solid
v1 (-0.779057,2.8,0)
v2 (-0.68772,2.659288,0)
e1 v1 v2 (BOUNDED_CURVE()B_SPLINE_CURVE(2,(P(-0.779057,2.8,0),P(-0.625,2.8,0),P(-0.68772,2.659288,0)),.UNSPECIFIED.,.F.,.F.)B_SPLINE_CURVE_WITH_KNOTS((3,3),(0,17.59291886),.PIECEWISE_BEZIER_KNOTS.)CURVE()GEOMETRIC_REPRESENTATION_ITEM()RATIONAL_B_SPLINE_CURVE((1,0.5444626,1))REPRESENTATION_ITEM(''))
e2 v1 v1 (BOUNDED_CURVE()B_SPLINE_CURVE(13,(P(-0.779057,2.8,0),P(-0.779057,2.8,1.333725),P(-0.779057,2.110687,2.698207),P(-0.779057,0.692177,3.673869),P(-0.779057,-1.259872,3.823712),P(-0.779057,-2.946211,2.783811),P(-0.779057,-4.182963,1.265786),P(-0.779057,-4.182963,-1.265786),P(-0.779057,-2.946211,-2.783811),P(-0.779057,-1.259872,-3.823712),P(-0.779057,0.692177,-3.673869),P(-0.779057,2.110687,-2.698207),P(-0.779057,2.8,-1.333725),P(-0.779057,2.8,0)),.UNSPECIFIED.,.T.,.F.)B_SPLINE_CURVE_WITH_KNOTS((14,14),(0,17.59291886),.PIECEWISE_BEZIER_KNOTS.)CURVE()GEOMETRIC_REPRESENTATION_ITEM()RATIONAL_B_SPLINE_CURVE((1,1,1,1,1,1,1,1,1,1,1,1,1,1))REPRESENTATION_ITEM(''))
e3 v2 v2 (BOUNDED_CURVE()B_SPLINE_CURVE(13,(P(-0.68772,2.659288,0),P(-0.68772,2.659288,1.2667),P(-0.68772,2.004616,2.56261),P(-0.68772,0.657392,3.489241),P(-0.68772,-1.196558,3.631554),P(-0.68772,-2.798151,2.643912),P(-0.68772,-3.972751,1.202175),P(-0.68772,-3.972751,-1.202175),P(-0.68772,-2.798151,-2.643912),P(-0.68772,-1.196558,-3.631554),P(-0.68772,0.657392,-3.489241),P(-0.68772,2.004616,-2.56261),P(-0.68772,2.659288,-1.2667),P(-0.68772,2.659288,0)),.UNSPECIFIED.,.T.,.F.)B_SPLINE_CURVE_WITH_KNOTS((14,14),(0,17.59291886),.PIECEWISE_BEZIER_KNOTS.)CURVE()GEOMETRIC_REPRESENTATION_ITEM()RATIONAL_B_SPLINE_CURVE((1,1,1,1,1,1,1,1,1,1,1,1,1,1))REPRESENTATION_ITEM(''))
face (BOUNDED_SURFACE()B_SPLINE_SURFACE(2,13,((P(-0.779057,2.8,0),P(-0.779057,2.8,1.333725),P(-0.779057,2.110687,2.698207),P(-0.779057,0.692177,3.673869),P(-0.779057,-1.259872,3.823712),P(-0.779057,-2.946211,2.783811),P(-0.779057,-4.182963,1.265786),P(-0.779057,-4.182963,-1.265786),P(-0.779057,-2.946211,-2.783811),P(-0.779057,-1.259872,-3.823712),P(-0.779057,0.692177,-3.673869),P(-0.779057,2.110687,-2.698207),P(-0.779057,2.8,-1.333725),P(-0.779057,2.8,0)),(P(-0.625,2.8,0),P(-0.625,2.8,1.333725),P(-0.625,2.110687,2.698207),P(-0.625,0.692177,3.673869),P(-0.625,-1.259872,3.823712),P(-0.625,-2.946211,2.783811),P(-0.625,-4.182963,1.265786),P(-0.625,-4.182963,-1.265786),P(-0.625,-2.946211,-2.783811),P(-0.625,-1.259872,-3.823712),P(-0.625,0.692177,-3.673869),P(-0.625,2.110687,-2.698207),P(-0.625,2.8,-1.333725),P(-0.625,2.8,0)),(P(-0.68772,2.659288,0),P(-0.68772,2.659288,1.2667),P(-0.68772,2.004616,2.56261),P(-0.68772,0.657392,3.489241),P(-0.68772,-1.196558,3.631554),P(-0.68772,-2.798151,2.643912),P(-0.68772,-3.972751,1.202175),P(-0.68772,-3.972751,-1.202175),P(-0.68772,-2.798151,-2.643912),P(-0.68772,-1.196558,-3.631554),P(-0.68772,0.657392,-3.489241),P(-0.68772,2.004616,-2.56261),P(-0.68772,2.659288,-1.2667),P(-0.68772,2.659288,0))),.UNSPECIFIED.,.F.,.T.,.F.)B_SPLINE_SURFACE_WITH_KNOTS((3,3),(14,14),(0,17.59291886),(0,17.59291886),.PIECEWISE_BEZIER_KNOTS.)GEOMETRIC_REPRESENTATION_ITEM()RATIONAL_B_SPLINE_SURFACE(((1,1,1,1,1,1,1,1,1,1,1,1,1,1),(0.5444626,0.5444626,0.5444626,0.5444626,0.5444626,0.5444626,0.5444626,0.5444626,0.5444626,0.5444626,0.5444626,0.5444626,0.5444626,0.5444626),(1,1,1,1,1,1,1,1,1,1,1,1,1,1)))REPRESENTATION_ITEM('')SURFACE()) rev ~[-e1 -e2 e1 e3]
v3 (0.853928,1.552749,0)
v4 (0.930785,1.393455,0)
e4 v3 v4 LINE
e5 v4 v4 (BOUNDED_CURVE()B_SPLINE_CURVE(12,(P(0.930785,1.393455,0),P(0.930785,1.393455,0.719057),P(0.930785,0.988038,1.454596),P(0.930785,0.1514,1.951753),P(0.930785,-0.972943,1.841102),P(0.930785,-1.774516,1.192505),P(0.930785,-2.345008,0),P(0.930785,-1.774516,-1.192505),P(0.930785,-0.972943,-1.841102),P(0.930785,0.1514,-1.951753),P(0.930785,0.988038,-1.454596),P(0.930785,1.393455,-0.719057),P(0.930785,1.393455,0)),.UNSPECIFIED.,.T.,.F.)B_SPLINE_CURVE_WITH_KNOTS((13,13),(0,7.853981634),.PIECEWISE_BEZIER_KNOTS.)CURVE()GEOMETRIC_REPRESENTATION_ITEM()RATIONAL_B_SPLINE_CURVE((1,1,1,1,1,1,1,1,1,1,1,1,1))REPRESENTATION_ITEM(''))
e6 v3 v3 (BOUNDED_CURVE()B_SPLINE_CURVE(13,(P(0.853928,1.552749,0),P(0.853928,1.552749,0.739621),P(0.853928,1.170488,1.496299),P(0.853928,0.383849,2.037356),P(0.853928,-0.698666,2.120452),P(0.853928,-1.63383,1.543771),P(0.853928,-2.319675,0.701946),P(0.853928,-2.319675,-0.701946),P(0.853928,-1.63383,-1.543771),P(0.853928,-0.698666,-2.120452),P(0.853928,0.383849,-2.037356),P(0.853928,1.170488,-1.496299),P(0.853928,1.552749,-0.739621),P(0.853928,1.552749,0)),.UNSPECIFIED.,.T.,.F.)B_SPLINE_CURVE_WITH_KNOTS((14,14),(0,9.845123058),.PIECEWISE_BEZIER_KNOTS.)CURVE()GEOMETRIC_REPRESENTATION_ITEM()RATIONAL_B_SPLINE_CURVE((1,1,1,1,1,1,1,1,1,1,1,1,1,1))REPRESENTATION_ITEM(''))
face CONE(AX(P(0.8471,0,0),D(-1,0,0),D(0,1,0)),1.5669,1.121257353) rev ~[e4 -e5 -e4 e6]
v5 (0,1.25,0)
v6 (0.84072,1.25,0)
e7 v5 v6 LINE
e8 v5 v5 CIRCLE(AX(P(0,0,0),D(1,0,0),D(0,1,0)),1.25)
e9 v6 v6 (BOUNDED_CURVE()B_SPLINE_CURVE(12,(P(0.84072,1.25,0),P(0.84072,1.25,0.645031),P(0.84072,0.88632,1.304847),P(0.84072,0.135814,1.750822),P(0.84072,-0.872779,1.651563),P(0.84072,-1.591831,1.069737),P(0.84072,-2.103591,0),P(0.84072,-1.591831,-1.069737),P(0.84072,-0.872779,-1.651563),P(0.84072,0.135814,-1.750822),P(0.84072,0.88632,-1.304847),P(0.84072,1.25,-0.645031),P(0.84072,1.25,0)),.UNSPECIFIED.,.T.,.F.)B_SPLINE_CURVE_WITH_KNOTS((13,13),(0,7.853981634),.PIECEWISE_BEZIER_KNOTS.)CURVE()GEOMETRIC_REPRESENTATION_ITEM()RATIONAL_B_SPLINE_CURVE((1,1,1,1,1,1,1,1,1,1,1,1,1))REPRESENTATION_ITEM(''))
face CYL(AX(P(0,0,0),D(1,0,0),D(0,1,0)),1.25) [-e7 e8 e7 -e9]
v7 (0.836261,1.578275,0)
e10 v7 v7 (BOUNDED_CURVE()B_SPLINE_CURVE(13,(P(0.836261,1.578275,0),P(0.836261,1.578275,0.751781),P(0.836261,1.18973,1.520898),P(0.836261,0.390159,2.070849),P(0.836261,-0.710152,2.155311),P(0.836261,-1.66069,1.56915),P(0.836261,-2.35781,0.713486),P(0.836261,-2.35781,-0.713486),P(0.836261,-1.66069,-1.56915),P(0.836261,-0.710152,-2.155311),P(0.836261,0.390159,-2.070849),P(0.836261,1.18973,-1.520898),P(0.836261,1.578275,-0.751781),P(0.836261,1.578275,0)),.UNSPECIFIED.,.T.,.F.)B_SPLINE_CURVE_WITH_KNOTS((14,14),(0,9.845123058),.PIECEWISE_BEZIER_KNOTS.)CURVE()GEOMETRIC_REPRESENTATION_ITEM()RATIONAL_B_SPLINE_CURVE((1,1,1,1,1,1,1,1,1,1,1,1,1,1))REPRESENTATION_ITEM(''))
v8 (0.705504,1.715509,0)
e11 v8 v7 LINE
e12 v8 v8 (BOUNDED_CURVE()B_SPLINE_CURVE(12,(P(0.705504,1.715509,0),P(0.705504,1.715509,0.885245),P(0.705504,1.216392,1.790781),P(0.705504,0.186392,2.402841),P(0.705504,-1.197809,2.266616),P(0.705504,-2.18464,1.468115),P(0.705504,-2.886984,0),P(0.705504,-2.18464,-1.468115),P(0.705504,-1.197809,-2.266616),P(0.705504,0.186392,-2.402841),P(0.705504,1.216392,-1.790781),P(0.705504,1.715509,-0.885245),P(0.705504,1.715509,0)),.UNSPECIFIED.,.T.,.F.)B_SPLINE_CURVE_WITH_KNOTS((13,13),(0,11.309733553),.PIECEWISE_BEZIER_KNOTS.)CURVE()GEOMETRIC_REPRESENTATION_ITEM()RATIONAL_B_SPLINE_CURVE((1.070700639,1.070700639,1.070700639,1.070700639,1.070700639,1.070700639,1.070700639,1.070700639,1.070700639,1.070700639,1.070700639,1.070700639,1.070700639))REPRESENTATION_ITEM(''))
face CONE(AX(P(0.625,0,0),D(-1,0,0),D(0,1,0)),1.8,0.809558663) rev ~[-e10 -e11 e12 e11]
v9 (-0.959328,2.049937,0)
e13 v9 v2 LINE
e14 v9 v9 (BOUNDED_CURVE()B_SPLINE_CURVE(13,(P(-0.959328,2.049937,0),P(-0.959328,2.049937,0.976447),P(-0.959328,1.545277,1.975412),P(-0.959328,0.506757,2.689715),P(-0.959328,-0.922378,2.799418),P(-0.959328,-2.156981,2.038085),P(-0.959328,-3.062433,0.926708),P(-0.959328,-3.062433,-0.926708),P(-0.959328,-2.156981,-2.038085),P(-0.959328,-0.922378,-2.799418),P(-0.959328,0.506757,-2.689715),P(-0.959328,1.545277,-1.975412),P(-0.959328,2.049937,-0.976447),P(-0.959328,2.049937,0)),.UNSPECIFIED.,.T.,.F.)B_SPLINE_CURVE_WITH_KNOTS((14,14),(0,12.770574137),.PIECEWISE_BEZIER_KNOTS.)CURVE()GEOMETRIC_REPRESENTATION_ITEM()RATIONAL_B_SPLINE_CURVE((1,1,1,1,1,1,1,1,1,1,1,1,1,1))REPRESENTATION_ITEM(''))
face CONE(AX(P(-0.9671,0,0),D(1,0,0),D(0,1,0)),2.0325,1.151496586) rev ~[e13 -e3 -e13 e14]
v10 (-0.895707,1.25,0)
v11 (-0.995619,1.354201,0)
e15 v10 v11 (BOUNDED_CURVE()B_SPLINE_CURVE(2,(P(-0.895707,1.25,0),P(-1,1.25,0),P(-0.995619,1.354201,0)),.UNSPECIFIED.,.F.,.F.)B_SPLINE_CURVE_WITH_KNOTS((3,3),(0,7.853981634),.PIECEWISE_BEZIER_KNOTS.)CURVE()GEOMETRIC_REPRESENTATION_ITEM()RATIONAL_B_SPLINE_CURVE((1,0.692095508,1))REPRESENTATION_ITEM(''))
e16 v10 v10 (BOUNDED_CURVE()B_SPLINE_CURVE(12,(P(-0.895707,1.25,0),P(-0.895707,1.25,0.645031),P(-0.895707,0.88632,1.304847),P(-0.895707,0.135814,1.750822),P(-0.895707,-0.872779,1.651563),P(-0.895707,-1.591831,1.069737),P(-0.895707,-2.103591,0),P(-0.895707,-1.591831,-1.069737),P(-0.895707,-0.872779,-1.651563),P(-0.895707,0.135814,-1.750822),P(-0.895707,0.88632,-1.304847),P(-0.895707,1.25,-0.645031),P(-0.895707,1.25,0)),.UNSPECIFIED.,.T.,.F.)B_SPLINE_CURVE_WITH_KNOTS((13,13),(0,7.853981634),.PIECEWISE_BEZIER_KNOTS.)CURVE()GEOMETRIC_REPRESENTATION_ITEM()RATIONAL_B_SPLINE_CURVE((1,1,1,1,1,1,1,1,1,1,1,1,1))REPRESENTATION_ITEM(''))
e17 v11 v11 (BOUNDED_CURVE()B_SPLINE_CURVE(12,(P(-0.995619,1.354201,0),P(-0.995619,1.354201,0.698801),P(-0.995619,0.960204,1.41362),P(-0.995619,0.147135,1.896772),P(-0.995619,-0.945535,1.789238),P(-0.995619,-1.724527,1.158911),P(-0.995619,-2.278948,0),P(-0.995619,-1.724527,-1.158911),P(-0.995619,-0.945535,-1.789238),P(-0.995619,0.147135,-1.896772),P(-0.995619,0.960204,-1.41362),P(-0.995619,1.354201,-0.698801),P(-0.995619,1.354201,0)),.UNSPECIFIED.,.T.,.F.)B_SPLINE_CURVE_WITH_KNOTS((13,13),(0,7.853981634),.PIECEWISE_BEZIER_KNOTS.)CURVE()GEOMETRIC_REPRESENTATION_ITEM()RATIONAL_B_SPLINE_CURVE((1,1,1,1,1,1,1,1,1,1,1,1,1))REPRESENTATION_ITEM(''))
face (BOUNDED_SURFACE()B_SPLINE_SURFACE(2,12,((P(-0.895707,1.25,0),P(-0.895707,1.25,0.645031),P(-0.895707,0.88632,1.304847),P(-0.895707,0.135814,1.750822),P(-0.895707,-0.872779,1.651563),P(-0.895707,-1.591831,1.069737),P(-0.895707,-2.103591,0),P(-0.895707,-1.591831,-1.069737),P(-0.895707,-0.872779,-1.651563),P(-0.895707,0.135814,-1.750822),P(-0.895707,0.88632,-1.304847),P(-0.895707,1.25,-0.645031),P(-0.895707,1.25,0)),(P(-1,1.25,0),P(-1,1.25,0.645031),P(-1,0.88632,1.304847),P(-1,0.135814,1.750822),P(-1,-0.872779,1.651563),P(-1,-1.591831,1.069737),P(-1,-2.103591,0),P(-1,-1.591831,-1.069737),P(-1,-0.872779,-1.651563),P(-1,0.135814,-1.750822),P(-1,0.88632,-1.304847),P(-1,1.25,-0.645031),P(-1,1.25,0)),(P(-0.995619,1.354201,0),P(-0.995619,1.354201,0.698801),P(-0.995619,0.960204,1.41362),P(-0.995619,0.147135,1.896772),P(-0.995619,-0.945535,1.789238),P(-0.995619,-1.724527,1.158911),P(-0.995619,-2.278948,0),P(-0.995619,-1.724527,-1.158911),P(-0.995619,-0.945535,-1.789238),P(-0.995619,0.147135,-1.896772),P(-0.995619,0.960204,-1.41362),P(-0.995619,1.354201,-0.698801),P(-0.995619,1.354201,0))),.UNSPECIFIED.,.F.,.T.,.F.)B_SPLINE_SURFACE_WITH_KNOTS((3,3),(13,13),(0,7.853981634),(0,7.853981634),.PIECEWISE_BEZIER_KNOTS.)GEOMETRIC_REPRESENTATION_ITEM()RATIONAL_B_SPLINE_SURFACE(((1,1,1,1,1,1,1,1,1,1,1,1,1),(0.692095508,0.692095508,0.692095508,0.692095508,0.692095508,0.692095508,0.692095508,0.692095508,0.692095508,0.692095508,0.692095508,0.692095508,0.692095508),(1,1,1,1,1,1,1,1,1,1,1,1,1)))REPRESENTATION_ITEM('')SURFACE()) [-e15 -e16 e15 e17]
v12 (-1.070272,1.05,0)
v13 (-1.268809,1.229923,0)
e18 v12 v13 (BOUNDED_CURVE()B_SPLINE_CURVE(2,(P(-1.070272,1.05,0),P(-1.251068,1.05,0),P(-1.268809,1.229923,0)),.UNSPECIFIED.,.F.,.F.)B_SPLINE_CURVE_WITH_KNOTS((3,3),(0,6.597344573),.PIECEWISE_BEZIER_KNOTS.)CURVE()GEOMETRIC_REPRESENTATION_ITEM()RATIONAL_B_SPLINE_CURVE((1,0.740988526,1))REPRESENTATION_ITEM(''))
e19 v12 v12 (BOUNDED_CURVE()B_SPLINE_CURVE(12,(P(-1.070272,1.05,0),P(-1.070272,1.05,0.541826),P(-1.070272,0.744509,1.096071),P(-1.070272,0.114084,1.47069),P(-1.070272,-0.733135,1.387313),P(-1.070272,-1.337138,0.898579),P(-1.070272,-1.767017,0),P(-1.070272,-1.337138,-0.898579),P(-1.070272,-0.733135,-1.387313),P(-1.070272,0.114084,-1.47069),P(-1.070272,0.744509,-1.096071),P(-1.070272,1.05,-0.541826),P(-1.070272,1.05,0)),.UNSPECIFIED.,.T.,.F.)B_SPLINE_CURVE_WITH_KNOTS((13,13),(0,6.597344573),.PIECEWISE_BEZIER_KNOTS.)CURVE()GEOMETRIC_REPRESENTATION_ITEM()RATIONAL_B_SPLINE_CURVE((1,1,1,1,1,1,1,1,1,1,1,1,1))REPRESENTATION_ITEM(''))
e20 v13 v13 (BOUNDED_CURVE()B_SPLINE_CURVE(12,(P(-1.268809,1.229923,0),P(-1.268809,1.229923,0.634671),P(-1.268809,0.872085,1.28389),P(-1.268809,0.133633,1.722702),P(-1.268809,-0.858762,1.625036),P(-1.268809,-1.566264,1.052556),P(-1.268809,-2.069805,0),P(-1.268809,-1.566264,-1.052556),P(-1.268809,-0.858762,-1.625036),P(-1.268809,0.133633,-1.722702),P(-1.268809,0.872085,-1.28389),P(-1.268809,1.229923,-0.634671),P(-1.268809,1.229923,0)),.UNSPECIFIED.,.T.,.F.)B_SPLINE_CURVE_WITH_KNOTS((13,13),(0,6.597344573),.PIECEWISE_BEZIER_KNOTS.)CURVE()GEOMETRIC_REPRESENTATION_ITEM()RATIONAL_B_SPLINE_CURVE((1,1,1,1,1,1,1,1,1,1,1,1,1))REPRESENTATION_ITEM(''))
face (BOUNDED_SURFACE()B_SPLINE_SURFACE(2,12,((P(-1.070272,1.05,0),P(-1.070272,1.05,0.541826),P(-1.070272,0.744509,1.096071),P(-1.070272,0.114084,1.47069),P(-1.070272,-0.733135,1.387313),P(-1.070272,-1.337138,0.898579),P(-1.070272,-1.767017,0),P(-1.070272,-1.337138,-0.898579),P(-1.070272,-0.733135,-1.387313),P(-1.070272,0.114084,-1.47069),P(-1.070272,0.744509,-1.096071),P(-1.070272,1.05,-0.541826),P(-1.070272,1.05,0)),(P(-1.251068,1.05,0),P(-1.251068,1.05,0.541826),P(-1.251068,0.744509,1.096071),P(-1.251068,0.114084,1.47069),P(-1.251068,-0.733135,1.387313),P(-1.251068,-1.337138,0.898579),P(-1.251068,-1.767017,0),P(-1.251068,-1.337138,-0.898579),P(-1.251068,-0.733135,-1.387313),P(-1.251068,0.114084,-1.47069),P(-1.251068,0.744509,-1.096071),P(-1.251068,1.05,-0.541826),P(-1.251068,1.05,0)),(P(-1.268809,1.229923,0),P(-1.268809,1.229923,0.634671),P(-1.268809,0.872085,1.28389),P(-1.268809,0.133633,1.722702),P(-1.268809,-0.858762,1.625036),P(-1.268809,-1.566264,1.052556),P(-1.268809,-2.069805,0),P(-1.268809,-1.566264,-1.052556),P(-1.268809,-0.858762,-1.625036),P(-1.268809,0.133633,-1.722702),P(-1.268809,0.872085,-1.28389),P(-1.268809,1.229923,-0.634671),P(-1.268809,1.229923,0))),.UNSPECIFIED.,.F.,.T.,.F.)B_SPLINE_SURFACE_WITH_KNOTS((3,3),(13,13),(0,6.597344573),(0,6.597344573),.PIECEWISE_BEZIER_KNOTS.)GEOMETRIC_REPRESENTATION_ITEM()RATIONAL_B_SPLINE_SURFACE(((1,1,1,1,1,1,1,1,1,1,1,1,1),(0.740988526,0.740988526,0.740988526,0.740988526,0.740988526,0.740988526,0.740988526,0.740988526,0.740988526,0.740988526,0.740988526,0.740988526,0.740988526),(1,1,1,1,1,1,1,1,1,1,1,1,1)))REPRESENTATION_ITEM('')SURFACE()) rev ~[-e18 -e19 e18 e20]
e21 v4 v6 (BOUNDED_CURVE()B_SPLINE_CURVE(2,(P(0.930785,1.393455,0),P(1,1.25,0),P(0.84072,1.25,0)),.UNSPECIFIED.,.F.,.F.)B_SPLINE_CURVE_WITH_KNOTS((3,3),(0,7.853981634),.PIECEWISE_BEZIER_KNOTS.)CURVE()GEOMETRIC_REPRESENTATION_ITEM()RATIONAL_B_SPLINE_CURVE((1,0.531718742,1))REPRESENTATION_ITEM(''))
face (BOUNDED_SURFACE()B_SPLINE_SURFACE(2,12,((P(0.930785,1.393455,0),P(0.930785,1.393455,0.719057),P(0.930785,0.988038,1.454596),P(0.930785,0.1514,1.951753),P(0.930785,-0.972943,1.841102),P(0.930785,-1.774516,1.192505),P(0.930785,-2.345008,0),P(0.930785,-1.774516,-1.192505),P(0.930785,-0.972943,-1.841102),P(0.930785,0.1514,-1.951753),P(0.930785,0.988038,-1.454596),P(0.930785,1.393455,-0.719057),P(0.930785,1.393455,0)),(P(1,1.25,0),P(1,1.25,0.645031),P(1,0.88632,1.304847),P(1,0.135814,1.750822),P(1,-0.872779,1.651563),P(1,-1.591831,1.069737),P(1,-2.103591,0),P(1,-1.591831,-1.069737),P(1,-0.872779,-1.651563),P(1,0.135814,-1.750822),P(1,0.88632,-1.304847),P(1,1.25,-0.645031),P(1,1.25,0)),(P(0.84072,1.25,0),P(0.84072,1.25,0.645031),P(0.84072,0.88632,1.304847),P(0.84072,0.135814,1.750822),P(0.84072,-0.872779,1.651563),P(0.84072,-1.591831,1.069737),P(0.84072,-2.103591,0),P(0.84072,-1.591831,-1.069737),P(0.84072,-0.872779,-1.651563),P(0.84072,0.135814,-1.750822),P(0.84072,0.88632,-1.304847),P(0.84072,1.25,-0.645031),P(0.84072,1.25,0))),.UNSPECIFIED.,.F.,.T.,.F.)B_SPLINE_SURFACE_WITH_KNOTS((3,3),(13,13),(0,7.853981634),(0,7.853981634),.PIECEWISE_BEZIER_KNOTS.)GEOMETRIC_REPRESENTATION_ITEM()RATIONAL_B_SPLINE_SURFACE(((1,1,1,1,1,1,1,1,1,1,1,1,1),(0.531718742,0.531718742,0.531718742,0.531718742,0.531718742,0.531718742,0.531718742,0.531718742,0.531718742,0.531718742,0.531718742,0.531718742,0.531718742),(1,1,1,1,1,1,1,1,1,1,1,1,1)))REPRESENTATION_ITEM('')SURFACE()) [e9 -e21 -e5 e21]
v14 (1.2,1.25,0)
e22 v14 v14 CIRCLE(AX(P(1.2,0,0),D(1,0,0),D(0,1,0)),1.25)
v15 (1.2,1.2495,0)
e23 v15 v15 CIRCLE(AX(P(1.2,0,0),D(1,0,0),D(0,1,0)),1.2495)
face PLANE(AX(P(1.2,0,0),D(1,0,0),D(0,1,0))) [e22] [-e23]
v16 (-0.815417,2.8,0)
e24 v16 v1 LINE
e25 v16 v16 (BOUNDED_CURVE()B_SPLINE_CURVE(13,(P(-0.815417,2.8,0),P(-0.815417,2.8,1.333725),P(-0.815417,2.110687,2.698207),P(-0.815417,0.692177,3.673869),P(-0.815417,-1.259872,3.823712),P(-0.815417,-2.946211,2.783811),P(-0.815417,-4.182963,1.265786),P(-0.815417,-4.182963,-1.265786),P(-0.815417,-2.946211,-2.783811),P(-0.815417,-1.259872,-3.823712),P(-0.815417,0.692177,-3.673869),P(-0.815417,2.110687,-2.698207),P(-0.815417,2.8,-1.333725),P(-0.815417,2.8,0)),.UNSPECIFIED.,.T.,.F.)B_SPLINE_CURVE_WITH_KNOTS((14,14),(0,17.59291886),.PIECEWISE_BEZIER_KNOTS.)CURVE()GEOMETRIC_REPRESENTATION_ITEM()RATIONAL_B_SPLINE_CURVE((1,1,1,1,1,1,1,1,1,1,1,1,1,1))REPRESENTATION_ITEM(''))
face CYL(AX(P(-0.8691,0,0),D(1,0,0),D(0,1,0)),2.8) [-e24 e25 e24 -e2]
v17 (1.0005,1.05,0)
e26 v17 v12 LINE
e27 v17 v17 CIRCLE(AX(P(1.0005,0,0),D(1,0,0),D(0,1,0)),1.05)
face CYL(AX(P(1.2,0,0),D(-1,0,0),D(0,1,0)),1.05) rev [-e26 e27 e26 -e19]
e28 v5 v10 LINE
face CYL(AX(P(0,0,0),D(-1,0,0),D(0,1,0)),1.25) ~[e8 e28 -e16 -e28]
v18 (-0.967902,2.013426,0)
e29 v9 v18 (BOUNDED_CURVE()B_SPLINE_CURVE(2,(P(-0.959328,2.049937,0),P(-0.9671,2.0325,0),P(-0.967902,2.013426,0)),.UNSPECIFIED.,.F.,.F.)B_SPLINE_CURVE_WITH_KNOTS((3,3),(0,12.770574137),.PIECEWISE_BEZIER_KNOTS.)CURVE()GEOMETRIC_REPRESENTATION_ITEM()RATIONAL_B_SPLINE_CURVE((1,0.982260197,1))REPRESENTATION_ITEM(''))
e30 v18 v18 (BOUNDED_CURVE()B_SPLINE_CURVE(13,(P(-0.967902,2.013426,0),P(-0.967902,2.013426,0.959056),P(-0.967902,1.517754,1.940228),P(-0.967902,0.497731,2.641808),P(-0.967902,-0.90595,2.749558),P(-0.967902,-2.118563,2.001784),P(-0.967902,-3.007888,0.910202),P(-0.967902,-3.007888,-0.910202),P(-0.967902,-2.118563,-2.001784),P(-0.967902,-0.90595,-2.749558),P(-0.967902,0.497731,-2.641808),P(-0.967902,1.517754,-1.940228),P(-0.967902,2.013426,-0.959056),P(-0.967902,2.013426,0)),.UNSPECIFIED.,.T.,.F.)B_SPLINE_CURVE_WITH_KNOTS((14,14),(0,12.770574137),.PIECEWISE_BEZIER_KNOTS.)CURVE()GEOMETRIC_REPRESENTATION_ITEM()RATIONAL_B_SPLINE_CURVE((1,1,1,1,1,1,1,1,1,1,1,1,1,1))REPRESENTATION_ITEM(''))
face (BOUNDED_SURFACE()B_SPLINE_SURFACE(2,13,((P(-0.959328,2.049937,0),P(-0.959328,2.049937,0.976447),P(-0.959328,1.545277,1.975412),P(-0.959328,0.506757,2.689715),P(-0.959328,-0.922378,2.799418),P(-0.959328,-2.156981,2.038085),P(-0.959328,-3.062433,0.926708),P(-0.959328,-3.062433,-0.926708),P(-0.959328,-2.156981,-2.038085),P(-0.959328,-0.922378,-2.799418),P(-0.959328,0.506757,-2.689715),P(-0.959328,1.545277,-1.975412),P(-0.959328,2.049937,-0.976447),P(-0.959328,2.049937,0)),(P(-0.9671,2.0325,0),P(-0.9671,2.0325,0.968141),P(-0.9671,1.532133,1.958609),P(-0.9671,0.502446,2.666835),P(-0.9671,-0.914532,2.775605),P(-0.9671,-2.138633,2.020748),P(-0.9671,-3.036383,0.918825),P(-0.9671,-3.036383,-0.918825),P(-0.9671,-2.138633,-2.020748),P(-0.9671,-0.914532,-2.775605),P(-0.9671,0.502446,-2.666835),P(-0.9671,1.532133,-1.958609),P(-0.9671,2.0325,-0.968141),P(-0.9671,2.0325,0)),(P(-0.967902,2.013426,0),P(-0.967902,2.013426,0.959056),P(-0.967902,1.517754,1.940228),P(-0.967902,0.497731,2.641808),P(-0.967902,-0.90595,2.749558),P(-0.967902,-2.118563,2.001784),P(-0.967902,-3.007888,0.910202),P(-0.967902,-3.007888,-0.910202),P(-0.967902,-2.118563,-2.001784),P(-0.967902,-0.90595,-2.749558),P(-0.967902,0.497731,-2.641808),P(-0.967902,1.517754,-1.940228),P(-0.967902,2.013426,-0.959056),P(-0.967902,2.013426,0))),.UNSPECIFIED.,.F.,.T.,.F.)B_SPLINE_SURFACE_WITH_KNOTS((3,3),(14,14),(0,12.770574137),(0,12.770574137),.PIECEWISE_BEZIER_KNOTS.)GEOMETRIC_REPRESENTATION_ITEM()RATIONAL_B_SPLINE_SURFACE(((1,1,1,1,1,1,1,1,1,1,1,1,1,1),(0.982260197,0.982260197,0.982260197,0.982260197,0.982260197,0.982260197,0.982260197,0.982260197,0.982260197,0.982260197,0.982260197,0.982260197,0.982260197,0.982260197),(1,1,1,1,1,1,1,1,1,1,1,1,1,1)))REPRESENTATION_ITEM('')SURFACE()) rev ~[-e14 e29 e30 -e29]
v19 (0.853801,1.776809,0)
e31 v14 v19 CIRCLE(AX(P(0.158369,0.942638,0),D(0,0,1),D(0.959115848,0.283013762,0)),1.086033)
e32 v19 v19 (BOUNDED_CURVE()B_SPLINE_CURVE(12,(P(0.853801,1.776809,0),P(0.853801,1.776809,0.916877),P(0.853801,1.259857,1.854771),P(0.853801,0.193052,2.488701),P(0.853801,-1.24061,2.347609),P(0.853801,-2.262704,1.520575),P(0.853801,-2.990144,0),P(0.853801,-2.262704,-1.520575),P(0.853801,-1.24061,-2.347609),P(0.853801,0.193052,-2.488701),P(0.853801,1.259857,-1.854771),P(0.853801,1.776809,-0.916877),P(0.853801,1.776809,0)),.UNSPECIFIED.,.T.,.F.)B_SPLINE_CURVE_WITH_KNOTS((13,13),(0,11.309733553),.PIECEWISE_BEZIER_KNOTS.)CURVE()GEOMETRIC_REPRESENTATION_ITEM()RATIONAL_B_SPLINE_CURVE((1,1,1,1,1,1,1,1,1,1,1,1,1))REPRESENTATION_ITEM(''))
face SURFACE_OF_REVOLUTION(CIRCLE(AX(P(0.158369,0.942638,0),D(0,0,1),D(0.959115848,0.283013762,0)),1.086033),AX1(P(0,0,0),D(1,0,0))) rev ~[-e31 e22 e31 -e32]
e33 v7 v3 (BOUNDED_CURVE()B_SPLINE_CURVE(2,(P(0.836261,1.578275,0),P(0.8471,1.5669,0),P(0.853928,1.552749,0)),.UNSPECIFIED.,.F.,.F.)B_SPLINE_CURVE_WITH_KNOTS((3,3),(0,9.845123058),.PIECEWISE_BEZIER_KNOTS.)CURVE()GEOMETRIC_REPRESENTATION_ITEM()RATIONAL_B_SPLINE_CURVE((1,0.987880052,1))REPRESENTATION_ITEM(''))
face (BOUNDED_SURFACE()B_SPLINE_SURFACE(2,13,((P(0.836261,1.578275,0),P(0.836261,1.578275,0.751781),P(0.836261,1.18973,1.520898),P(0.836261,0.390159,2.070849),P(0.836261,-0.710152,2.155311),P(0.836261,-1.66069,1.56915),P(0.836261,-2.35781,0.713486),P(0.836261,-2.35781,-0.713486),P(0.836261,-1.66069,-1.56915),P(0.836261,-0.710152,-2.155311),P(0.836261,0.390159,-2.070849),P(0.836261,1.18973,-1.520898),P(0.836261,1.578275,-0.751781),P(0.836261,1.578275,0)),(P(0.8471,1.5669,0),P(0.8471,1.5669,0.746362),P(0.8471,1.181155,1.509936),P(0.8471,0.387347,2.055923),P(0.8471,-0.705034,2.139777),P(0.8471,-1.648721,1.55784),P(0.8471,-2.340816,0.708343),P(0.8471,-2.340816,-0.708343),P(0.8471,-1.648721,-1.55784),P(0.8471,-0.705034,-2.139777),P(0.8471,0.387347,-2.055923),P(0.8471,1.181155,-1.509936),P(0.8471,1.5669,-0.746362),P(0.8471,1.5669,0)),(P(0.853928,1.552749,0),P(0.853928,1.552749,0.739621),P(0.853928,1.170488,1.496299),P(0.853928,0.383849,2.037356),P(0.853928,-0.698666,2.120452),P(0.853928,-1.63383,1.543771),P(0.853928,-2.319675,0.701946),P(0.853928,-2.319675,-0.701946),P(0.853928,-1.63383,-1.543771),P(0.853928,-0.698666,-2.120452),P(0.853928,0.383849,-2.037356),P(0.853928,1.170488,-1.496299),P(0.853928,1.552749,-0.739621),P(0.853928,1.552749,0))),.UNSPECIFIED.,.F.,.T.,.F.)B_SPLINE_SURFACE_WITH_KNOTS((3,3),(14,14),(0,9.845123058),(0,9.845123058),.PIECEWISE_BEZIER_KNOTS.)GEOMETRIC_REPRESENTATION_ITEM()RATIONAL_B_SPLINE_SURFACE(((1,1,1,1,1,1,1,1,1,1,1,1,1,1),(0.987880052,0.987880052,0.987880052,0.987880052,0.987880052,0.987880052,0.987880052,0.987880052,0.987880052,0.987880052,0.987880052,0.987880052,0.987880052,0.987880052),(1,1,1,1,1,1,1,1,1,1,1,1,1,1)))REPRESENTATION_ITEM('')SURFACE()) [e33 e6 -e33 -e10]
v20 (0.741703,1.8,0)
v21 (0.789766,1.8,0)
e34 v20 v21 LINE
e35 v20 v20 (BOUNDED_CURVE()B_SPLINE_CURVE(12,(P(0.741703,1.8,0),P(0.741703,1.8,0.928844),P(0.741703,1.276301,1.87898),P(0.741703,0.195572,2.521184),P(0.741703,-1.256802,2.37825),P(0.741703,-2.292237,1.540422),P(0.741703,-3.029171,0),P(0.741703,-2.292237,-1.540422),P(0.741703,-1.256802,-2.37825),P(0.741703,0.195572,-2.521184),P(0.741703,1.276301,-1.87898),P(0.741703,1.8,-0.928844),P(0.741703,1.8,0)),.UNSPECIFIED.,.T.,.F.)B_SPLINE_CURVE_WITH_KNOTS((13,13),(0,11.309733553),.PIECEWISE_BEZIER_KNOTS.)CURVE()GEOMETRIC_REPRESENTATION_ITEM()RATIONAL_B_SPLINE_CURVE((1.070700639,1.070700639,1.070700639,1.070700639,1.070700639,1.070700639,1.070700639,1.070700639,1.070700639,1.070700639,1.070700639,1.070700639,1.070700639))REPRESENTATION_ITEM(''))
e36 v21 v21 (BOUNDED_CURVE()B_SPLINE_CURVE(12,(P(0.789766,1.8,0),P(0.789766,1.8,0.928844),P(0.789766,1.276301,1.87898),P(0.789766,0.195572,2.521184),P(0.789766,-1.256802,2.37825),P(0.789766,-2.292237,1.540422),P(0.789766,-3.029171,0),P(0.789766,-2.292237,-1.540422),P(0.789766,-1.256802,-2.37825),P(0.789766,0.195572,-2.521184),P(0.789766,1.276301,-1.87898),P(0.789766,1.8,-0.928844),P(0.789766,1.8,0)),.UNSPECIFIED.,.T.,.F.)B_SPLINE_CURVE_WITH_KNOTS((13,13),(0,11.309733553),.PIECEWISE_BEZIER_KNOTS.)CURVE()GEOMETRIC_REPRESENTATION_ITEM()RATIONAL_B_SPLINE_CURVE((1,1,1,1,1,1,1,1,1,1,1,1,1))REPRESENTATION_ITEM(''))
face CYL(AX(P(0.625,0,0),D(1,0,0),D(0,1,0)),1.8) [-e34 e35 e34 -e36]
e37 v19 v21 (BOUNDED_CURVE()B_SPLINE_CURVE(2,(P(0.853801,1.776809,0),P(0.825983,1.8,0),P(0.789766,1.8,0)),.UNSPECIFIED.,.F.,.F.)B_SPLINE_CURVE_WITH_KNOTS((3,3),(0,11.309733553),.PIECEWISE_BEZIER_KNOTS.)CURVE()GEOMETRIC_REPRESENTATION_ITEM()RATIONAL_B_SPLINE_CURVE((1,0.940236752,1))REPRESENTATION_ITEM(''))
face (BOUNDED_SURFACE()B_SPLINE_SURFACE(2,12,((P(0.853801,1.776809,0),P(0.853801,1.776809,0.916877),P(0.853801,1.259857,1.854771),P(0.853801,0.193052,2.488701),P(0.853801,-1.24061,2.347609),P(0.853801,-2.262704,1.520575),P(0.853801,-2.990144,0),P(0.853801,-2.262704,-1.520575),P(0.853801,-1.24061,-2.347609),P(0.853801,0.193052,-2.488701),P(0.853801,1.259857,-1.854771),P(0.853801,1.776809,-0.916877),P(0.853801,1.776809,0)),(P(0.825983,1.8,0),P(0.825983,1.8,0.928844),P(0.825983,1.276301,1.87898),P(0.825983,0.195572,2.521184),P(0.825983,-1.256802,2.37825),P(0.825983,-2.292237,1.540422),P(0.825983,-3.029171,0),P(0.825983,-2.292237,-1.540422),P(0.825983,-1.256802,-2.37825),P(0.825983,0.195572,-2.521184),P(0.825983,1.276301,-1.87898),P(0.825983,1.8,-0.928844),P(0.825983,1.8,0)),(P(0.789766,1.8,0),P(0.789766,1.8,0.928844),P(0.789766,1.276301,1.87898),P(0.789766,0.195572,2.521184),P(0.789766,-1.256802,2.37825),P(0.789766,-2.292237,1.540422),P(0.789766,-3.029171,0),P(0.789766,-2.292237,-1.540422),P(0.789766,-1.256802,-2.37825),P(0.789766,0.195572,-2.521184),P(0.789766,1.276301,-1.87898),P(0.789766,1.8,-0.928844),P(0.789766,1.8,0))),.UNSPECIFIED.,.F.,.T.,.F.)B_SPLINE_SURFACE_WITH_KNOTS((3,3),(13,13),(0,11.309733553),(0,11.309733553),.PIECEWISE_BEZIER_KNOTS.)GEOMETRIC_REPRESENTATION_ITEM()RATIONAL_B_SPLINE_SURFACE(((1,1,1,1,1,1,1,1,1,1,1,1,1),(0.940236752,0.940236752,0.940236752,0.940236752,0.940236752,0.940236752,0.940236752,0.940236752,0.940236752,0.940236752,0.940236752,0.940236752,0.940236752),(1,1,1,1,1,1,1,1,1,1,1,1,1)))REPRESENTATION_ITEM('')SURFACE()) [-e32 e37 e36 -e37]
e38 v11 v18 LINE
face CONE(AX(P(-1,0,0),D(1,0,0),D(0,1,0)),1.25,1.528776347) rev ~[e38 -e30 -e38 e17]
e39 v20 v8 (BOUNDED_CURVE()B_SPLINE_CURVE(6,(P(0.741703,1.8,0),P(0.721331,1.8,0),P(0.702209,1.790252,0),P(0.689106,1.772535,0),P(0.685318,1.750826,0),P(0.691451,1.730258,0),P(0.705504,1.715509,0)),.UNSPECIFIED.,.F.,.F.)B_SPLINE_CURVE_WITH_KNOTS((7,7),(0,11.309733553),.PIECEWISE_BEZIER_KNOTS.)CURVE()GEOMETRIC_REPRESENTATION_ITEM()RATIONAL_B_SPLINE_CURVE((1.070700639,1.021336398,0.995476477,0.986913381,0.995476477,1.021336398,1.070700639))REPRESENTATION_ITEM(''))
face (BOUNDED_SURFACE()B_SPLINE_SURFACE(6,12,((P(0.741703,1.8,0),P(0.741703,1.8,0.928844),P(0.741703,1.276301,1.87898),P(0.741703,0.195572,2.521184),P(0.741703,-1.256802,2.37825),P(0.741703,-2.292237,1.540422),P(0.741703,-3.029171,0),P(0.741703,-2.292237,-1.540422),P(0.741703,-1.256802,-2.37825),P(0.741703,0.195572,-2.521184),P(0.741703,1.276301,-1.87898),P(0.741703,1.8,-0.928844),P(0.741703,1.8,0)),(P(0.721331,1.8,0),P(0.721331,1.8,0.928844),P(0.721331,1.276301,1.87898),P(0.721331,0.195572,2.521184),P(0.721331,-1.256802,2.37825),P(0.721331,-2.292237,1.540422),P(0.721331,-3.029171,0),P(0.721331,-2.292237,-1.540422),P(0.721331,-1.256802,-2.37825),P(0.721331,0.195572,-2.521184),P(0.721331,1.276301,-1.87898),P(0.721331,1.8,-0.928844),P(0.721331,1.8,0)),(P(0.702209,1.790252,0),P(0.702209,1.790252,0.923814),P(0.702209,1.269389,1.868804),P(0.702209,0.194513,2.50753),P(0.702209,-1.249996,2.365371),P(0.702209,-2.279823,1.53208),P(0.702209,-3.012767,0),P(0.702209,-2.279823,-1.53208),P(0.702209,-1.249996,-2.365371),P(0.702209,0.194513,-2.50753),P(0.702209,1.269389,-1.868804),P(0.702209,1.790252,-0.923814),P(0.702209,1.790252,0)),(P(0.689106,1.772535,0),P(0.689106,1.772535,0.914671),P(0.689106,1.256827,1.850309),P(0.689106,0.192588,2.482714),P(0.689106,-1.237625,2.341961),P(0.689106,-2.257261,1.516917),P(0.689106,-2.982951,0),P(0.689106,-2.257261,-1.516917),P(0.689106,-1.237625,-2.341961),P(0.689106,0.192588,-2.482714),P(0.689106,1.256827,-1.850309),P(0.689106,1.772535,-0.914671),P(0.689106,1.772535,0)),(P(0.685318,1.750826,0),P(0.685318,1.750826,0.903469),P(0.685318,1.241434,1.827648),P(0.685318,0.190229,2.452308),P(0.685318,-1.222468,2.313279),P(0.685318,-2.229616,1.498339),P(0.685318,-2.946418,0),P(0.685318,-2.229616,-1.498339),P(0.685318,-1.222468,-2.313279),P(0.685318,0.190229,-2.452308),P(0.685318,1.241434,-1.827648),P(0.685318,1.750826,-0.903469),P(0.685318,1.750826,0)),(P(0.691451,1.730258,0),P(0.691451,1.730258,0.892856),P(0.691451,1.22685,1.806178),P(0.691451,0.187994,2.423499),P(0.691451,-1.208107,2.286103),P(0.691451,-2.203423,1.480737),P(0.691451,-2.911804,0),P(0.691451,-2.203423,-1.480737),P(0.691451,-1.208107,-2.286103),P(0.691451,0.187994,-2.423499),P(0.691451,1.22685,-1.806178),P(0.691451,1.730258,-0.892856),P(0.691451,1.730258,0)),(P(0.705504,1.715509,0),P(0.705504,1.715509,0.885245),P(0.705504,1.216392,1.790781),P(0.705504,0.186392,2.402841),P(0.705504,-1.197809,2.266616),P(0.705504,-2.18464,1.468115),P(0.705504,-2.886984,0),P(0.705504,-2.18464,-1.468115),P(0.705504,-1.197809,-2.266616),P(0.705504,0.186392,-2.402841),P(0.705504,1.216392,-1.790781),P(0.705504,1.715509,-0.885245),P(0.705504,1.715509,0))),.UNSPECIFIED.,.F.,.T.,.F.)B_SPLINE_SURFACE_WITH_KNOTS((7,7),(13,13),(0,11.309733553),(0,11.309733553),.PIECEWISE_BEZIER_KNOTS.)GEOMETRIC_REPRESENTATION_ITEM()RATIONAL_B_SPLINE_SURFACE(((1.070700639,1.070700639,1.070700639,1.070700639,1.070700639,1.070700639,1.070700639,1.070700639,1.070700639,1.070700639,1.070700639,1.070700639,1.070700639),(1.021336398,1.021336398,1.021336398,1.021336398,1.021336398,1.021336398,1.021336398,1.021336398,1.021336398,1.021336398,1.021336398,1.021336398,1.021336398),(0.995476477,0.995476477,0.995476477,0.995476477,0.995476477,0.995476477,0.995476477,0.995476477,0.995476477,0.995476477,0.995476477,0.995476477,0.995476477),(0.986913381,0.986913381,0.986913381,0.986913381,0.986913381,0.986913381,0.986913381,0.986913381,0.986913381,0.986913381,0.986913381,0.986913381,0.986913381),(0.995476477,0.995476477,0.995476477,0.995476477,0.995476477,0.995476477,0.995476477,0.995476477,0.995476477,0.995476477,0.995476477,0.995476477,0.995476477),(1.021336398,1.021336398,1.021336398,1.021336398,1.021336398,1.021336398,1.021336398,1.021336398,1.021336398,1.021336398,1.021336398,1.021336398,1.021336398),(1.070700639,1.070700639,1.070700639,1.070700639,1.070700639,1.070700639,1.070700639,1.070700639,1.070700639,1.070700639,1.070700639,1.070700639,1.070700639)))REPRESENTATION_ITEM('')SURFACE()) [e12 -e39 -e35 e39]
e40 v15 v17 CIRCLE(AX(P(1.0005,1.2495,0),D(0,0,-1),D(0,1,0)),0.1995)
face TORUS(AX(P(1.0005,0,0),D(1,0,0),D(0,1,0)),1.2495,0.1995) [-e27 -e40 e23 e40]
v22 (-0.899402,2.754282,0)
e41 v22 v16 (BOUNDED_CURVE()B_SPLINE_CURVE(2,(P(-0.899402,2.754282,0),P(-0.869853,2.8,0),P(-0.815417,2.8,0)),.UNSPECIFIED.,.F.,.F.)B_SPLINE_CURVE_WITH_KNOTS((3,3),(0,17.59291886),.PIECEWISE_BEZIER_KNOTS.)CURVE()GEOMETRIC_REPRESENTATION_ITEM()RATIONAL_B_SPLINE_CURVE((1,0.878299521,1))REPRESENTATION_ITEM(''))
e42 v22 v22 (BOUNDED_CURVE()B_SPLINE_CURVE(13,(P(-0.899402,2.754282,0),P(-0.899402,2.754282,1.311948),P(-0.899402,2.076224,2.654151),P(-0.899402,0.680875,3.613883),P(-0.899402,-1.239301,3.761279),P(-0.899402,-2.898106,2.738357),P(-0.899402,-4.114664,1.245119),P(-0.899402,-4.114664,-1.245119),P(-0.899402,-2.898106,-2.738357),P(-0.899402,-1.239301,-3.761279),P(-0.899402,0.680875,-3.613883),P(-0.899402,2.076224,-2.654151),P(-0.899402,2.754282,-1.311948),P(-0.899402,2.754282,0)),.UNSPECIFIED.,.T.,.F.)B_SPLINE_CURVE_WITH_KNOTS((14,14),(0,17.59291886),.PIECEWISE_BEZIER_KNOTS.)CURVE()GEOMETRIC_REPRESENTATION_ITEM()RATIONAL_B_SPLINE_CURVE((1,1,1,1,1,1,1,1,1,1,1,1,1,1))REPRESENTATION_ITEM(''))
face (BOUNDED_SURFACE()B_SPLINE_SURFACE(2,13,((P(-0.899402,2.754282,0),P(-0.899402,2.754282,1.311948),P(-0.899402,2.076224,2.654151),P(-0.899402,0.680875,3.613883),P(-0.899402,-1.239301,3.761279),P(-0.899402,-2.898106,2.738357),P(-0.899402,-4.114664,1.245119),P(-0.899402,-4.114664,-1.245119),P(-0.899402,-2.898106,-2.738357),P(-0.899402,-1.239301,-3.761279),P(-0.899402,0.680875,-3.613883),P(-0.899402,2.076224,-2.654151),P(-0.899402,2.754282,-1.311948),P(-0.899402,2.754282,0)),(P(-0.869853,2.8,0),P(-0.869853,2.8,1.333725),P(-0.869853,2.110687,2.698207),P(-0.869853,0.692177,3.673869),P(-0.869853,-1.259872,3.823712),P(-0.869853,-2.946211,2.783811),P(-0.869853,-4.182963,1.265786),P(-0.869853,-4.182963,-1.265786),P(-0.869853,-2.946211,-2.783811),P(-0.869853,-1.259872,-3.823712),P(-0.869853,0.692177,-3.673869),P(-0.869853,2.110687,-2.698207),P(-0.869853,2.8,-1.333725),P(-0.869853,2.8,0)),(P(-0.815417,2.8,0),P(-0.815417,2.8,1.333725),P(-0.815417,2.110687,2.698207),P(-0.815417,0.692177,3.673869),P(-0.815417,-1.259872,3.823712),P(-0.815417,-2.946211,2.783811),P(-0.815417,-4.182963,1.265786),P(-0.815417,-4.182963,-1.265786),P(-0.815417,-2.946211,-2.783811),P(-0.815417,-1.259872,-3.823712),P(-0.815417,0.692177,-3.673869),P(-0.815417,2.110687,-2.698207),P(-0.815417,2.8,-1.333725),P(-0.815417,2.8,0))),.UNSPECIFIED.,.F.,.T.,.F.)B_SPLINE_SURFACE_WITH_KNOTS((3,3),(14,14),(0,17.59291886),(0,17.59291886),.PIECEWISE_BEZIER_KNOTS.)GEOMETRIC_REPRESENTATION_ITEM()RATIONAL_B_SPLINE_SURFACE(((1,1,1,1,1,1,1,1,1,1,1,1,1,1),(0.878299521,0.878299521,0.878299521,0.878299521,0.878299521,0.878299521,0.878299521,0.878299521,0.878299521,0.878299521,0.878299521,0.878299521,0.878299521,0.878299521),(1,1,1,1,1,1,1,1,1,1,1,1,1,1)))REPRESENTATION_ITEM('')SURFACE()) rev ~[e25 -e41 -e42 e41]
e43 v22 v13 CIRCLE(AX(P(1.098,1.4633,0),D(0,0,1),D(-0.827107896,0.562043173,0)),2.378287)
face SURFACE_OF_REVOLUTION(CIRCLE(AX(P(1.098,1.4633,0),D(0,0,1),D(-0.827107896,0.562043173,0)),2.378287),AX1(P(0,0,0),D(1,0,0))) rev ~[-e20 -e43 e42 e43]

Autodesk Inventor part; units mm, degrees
ref_plane "YZ Plane" through (0, 0, 0) normal (1, 0, 0) x (0, 1, 0)
sketch "Szkic1" plane through (0, 0, 0) normal (0, 0, 1) x (1, 0, 0)
  line L0 (0, 1.25) -> (1, 1.25)
  line L1 (0, 0) -> (4.8685, 0)
  line L2 (0.625, 1.8) -> (0.8471, 1.5669)
  line L3 (0.8471, 1.5669) -> (1, 1.25)
  line L4 (0, 1.25) -> (-1, 1.25)
  line L5 (-1, 1.25) -> (-0.9671, 2.0325)
  line L6 (-0.9671, 2.0325) -> (-0.625, 2.8)
  line L7 (1.2, 1.25) -> (1.2, 1.05)
  line L8 (1.2, 1.05) -> (-1.2441, 1.05)
  line L9 (-0.8691, 2.8) -> (-0.625, 2.8)
  line L10 (0.625, 1.8) -> (0.825, 1.8)
  arc A0 (-0.8691, 2.8) -> (-1.2441, 1.05) centre (1.098, 1.4633) ccw
  arc A1 (1.2, 1.25) -> (0.825, 1.8) centre (0.1585, 0.9427) ccw
  line L11 (1.2, 1.25) -> (1.2, 1.05)
  dimension "d1" = 1
  dimension "d16" = 0.2
revolve "Obrót1" add sketch "Szkic1" angle 360 about axis through (0, 0, 0) along (1, 0, 0)
fillet "Zaokrąglenie1" radius 0.2 2 edges at (-1.2441, -1.05, 0) (1.2, -1.05, 0)
fillet "Zaokrąglenie2" radius 0.1 7 edges at (0.825, -1.8, 0) (1, -1.25, 0) (0.8471, -1.5669, 0) (-0.8691, -2.8, 0) (-0.625, -2.8, 0) (-0.9671, -2.0325, 0) (-1, -1.25, 0)
fillet "Zaokrąglenie3" radius 0.05 1 edges at (0.625, -1.8, 0)
ref_plane "Płaszczyzna konstrukcyjna1" through (0, 0, 0) normal (0, 1, 0) x (-1, 0, 0)
ref_plane "Płaszczyzna konstrukcyjna2" through (0, 0, 0) normal (0, 0, 1) x (1, 0, 0)
properties part number "wstawka" material "Miedziany"
